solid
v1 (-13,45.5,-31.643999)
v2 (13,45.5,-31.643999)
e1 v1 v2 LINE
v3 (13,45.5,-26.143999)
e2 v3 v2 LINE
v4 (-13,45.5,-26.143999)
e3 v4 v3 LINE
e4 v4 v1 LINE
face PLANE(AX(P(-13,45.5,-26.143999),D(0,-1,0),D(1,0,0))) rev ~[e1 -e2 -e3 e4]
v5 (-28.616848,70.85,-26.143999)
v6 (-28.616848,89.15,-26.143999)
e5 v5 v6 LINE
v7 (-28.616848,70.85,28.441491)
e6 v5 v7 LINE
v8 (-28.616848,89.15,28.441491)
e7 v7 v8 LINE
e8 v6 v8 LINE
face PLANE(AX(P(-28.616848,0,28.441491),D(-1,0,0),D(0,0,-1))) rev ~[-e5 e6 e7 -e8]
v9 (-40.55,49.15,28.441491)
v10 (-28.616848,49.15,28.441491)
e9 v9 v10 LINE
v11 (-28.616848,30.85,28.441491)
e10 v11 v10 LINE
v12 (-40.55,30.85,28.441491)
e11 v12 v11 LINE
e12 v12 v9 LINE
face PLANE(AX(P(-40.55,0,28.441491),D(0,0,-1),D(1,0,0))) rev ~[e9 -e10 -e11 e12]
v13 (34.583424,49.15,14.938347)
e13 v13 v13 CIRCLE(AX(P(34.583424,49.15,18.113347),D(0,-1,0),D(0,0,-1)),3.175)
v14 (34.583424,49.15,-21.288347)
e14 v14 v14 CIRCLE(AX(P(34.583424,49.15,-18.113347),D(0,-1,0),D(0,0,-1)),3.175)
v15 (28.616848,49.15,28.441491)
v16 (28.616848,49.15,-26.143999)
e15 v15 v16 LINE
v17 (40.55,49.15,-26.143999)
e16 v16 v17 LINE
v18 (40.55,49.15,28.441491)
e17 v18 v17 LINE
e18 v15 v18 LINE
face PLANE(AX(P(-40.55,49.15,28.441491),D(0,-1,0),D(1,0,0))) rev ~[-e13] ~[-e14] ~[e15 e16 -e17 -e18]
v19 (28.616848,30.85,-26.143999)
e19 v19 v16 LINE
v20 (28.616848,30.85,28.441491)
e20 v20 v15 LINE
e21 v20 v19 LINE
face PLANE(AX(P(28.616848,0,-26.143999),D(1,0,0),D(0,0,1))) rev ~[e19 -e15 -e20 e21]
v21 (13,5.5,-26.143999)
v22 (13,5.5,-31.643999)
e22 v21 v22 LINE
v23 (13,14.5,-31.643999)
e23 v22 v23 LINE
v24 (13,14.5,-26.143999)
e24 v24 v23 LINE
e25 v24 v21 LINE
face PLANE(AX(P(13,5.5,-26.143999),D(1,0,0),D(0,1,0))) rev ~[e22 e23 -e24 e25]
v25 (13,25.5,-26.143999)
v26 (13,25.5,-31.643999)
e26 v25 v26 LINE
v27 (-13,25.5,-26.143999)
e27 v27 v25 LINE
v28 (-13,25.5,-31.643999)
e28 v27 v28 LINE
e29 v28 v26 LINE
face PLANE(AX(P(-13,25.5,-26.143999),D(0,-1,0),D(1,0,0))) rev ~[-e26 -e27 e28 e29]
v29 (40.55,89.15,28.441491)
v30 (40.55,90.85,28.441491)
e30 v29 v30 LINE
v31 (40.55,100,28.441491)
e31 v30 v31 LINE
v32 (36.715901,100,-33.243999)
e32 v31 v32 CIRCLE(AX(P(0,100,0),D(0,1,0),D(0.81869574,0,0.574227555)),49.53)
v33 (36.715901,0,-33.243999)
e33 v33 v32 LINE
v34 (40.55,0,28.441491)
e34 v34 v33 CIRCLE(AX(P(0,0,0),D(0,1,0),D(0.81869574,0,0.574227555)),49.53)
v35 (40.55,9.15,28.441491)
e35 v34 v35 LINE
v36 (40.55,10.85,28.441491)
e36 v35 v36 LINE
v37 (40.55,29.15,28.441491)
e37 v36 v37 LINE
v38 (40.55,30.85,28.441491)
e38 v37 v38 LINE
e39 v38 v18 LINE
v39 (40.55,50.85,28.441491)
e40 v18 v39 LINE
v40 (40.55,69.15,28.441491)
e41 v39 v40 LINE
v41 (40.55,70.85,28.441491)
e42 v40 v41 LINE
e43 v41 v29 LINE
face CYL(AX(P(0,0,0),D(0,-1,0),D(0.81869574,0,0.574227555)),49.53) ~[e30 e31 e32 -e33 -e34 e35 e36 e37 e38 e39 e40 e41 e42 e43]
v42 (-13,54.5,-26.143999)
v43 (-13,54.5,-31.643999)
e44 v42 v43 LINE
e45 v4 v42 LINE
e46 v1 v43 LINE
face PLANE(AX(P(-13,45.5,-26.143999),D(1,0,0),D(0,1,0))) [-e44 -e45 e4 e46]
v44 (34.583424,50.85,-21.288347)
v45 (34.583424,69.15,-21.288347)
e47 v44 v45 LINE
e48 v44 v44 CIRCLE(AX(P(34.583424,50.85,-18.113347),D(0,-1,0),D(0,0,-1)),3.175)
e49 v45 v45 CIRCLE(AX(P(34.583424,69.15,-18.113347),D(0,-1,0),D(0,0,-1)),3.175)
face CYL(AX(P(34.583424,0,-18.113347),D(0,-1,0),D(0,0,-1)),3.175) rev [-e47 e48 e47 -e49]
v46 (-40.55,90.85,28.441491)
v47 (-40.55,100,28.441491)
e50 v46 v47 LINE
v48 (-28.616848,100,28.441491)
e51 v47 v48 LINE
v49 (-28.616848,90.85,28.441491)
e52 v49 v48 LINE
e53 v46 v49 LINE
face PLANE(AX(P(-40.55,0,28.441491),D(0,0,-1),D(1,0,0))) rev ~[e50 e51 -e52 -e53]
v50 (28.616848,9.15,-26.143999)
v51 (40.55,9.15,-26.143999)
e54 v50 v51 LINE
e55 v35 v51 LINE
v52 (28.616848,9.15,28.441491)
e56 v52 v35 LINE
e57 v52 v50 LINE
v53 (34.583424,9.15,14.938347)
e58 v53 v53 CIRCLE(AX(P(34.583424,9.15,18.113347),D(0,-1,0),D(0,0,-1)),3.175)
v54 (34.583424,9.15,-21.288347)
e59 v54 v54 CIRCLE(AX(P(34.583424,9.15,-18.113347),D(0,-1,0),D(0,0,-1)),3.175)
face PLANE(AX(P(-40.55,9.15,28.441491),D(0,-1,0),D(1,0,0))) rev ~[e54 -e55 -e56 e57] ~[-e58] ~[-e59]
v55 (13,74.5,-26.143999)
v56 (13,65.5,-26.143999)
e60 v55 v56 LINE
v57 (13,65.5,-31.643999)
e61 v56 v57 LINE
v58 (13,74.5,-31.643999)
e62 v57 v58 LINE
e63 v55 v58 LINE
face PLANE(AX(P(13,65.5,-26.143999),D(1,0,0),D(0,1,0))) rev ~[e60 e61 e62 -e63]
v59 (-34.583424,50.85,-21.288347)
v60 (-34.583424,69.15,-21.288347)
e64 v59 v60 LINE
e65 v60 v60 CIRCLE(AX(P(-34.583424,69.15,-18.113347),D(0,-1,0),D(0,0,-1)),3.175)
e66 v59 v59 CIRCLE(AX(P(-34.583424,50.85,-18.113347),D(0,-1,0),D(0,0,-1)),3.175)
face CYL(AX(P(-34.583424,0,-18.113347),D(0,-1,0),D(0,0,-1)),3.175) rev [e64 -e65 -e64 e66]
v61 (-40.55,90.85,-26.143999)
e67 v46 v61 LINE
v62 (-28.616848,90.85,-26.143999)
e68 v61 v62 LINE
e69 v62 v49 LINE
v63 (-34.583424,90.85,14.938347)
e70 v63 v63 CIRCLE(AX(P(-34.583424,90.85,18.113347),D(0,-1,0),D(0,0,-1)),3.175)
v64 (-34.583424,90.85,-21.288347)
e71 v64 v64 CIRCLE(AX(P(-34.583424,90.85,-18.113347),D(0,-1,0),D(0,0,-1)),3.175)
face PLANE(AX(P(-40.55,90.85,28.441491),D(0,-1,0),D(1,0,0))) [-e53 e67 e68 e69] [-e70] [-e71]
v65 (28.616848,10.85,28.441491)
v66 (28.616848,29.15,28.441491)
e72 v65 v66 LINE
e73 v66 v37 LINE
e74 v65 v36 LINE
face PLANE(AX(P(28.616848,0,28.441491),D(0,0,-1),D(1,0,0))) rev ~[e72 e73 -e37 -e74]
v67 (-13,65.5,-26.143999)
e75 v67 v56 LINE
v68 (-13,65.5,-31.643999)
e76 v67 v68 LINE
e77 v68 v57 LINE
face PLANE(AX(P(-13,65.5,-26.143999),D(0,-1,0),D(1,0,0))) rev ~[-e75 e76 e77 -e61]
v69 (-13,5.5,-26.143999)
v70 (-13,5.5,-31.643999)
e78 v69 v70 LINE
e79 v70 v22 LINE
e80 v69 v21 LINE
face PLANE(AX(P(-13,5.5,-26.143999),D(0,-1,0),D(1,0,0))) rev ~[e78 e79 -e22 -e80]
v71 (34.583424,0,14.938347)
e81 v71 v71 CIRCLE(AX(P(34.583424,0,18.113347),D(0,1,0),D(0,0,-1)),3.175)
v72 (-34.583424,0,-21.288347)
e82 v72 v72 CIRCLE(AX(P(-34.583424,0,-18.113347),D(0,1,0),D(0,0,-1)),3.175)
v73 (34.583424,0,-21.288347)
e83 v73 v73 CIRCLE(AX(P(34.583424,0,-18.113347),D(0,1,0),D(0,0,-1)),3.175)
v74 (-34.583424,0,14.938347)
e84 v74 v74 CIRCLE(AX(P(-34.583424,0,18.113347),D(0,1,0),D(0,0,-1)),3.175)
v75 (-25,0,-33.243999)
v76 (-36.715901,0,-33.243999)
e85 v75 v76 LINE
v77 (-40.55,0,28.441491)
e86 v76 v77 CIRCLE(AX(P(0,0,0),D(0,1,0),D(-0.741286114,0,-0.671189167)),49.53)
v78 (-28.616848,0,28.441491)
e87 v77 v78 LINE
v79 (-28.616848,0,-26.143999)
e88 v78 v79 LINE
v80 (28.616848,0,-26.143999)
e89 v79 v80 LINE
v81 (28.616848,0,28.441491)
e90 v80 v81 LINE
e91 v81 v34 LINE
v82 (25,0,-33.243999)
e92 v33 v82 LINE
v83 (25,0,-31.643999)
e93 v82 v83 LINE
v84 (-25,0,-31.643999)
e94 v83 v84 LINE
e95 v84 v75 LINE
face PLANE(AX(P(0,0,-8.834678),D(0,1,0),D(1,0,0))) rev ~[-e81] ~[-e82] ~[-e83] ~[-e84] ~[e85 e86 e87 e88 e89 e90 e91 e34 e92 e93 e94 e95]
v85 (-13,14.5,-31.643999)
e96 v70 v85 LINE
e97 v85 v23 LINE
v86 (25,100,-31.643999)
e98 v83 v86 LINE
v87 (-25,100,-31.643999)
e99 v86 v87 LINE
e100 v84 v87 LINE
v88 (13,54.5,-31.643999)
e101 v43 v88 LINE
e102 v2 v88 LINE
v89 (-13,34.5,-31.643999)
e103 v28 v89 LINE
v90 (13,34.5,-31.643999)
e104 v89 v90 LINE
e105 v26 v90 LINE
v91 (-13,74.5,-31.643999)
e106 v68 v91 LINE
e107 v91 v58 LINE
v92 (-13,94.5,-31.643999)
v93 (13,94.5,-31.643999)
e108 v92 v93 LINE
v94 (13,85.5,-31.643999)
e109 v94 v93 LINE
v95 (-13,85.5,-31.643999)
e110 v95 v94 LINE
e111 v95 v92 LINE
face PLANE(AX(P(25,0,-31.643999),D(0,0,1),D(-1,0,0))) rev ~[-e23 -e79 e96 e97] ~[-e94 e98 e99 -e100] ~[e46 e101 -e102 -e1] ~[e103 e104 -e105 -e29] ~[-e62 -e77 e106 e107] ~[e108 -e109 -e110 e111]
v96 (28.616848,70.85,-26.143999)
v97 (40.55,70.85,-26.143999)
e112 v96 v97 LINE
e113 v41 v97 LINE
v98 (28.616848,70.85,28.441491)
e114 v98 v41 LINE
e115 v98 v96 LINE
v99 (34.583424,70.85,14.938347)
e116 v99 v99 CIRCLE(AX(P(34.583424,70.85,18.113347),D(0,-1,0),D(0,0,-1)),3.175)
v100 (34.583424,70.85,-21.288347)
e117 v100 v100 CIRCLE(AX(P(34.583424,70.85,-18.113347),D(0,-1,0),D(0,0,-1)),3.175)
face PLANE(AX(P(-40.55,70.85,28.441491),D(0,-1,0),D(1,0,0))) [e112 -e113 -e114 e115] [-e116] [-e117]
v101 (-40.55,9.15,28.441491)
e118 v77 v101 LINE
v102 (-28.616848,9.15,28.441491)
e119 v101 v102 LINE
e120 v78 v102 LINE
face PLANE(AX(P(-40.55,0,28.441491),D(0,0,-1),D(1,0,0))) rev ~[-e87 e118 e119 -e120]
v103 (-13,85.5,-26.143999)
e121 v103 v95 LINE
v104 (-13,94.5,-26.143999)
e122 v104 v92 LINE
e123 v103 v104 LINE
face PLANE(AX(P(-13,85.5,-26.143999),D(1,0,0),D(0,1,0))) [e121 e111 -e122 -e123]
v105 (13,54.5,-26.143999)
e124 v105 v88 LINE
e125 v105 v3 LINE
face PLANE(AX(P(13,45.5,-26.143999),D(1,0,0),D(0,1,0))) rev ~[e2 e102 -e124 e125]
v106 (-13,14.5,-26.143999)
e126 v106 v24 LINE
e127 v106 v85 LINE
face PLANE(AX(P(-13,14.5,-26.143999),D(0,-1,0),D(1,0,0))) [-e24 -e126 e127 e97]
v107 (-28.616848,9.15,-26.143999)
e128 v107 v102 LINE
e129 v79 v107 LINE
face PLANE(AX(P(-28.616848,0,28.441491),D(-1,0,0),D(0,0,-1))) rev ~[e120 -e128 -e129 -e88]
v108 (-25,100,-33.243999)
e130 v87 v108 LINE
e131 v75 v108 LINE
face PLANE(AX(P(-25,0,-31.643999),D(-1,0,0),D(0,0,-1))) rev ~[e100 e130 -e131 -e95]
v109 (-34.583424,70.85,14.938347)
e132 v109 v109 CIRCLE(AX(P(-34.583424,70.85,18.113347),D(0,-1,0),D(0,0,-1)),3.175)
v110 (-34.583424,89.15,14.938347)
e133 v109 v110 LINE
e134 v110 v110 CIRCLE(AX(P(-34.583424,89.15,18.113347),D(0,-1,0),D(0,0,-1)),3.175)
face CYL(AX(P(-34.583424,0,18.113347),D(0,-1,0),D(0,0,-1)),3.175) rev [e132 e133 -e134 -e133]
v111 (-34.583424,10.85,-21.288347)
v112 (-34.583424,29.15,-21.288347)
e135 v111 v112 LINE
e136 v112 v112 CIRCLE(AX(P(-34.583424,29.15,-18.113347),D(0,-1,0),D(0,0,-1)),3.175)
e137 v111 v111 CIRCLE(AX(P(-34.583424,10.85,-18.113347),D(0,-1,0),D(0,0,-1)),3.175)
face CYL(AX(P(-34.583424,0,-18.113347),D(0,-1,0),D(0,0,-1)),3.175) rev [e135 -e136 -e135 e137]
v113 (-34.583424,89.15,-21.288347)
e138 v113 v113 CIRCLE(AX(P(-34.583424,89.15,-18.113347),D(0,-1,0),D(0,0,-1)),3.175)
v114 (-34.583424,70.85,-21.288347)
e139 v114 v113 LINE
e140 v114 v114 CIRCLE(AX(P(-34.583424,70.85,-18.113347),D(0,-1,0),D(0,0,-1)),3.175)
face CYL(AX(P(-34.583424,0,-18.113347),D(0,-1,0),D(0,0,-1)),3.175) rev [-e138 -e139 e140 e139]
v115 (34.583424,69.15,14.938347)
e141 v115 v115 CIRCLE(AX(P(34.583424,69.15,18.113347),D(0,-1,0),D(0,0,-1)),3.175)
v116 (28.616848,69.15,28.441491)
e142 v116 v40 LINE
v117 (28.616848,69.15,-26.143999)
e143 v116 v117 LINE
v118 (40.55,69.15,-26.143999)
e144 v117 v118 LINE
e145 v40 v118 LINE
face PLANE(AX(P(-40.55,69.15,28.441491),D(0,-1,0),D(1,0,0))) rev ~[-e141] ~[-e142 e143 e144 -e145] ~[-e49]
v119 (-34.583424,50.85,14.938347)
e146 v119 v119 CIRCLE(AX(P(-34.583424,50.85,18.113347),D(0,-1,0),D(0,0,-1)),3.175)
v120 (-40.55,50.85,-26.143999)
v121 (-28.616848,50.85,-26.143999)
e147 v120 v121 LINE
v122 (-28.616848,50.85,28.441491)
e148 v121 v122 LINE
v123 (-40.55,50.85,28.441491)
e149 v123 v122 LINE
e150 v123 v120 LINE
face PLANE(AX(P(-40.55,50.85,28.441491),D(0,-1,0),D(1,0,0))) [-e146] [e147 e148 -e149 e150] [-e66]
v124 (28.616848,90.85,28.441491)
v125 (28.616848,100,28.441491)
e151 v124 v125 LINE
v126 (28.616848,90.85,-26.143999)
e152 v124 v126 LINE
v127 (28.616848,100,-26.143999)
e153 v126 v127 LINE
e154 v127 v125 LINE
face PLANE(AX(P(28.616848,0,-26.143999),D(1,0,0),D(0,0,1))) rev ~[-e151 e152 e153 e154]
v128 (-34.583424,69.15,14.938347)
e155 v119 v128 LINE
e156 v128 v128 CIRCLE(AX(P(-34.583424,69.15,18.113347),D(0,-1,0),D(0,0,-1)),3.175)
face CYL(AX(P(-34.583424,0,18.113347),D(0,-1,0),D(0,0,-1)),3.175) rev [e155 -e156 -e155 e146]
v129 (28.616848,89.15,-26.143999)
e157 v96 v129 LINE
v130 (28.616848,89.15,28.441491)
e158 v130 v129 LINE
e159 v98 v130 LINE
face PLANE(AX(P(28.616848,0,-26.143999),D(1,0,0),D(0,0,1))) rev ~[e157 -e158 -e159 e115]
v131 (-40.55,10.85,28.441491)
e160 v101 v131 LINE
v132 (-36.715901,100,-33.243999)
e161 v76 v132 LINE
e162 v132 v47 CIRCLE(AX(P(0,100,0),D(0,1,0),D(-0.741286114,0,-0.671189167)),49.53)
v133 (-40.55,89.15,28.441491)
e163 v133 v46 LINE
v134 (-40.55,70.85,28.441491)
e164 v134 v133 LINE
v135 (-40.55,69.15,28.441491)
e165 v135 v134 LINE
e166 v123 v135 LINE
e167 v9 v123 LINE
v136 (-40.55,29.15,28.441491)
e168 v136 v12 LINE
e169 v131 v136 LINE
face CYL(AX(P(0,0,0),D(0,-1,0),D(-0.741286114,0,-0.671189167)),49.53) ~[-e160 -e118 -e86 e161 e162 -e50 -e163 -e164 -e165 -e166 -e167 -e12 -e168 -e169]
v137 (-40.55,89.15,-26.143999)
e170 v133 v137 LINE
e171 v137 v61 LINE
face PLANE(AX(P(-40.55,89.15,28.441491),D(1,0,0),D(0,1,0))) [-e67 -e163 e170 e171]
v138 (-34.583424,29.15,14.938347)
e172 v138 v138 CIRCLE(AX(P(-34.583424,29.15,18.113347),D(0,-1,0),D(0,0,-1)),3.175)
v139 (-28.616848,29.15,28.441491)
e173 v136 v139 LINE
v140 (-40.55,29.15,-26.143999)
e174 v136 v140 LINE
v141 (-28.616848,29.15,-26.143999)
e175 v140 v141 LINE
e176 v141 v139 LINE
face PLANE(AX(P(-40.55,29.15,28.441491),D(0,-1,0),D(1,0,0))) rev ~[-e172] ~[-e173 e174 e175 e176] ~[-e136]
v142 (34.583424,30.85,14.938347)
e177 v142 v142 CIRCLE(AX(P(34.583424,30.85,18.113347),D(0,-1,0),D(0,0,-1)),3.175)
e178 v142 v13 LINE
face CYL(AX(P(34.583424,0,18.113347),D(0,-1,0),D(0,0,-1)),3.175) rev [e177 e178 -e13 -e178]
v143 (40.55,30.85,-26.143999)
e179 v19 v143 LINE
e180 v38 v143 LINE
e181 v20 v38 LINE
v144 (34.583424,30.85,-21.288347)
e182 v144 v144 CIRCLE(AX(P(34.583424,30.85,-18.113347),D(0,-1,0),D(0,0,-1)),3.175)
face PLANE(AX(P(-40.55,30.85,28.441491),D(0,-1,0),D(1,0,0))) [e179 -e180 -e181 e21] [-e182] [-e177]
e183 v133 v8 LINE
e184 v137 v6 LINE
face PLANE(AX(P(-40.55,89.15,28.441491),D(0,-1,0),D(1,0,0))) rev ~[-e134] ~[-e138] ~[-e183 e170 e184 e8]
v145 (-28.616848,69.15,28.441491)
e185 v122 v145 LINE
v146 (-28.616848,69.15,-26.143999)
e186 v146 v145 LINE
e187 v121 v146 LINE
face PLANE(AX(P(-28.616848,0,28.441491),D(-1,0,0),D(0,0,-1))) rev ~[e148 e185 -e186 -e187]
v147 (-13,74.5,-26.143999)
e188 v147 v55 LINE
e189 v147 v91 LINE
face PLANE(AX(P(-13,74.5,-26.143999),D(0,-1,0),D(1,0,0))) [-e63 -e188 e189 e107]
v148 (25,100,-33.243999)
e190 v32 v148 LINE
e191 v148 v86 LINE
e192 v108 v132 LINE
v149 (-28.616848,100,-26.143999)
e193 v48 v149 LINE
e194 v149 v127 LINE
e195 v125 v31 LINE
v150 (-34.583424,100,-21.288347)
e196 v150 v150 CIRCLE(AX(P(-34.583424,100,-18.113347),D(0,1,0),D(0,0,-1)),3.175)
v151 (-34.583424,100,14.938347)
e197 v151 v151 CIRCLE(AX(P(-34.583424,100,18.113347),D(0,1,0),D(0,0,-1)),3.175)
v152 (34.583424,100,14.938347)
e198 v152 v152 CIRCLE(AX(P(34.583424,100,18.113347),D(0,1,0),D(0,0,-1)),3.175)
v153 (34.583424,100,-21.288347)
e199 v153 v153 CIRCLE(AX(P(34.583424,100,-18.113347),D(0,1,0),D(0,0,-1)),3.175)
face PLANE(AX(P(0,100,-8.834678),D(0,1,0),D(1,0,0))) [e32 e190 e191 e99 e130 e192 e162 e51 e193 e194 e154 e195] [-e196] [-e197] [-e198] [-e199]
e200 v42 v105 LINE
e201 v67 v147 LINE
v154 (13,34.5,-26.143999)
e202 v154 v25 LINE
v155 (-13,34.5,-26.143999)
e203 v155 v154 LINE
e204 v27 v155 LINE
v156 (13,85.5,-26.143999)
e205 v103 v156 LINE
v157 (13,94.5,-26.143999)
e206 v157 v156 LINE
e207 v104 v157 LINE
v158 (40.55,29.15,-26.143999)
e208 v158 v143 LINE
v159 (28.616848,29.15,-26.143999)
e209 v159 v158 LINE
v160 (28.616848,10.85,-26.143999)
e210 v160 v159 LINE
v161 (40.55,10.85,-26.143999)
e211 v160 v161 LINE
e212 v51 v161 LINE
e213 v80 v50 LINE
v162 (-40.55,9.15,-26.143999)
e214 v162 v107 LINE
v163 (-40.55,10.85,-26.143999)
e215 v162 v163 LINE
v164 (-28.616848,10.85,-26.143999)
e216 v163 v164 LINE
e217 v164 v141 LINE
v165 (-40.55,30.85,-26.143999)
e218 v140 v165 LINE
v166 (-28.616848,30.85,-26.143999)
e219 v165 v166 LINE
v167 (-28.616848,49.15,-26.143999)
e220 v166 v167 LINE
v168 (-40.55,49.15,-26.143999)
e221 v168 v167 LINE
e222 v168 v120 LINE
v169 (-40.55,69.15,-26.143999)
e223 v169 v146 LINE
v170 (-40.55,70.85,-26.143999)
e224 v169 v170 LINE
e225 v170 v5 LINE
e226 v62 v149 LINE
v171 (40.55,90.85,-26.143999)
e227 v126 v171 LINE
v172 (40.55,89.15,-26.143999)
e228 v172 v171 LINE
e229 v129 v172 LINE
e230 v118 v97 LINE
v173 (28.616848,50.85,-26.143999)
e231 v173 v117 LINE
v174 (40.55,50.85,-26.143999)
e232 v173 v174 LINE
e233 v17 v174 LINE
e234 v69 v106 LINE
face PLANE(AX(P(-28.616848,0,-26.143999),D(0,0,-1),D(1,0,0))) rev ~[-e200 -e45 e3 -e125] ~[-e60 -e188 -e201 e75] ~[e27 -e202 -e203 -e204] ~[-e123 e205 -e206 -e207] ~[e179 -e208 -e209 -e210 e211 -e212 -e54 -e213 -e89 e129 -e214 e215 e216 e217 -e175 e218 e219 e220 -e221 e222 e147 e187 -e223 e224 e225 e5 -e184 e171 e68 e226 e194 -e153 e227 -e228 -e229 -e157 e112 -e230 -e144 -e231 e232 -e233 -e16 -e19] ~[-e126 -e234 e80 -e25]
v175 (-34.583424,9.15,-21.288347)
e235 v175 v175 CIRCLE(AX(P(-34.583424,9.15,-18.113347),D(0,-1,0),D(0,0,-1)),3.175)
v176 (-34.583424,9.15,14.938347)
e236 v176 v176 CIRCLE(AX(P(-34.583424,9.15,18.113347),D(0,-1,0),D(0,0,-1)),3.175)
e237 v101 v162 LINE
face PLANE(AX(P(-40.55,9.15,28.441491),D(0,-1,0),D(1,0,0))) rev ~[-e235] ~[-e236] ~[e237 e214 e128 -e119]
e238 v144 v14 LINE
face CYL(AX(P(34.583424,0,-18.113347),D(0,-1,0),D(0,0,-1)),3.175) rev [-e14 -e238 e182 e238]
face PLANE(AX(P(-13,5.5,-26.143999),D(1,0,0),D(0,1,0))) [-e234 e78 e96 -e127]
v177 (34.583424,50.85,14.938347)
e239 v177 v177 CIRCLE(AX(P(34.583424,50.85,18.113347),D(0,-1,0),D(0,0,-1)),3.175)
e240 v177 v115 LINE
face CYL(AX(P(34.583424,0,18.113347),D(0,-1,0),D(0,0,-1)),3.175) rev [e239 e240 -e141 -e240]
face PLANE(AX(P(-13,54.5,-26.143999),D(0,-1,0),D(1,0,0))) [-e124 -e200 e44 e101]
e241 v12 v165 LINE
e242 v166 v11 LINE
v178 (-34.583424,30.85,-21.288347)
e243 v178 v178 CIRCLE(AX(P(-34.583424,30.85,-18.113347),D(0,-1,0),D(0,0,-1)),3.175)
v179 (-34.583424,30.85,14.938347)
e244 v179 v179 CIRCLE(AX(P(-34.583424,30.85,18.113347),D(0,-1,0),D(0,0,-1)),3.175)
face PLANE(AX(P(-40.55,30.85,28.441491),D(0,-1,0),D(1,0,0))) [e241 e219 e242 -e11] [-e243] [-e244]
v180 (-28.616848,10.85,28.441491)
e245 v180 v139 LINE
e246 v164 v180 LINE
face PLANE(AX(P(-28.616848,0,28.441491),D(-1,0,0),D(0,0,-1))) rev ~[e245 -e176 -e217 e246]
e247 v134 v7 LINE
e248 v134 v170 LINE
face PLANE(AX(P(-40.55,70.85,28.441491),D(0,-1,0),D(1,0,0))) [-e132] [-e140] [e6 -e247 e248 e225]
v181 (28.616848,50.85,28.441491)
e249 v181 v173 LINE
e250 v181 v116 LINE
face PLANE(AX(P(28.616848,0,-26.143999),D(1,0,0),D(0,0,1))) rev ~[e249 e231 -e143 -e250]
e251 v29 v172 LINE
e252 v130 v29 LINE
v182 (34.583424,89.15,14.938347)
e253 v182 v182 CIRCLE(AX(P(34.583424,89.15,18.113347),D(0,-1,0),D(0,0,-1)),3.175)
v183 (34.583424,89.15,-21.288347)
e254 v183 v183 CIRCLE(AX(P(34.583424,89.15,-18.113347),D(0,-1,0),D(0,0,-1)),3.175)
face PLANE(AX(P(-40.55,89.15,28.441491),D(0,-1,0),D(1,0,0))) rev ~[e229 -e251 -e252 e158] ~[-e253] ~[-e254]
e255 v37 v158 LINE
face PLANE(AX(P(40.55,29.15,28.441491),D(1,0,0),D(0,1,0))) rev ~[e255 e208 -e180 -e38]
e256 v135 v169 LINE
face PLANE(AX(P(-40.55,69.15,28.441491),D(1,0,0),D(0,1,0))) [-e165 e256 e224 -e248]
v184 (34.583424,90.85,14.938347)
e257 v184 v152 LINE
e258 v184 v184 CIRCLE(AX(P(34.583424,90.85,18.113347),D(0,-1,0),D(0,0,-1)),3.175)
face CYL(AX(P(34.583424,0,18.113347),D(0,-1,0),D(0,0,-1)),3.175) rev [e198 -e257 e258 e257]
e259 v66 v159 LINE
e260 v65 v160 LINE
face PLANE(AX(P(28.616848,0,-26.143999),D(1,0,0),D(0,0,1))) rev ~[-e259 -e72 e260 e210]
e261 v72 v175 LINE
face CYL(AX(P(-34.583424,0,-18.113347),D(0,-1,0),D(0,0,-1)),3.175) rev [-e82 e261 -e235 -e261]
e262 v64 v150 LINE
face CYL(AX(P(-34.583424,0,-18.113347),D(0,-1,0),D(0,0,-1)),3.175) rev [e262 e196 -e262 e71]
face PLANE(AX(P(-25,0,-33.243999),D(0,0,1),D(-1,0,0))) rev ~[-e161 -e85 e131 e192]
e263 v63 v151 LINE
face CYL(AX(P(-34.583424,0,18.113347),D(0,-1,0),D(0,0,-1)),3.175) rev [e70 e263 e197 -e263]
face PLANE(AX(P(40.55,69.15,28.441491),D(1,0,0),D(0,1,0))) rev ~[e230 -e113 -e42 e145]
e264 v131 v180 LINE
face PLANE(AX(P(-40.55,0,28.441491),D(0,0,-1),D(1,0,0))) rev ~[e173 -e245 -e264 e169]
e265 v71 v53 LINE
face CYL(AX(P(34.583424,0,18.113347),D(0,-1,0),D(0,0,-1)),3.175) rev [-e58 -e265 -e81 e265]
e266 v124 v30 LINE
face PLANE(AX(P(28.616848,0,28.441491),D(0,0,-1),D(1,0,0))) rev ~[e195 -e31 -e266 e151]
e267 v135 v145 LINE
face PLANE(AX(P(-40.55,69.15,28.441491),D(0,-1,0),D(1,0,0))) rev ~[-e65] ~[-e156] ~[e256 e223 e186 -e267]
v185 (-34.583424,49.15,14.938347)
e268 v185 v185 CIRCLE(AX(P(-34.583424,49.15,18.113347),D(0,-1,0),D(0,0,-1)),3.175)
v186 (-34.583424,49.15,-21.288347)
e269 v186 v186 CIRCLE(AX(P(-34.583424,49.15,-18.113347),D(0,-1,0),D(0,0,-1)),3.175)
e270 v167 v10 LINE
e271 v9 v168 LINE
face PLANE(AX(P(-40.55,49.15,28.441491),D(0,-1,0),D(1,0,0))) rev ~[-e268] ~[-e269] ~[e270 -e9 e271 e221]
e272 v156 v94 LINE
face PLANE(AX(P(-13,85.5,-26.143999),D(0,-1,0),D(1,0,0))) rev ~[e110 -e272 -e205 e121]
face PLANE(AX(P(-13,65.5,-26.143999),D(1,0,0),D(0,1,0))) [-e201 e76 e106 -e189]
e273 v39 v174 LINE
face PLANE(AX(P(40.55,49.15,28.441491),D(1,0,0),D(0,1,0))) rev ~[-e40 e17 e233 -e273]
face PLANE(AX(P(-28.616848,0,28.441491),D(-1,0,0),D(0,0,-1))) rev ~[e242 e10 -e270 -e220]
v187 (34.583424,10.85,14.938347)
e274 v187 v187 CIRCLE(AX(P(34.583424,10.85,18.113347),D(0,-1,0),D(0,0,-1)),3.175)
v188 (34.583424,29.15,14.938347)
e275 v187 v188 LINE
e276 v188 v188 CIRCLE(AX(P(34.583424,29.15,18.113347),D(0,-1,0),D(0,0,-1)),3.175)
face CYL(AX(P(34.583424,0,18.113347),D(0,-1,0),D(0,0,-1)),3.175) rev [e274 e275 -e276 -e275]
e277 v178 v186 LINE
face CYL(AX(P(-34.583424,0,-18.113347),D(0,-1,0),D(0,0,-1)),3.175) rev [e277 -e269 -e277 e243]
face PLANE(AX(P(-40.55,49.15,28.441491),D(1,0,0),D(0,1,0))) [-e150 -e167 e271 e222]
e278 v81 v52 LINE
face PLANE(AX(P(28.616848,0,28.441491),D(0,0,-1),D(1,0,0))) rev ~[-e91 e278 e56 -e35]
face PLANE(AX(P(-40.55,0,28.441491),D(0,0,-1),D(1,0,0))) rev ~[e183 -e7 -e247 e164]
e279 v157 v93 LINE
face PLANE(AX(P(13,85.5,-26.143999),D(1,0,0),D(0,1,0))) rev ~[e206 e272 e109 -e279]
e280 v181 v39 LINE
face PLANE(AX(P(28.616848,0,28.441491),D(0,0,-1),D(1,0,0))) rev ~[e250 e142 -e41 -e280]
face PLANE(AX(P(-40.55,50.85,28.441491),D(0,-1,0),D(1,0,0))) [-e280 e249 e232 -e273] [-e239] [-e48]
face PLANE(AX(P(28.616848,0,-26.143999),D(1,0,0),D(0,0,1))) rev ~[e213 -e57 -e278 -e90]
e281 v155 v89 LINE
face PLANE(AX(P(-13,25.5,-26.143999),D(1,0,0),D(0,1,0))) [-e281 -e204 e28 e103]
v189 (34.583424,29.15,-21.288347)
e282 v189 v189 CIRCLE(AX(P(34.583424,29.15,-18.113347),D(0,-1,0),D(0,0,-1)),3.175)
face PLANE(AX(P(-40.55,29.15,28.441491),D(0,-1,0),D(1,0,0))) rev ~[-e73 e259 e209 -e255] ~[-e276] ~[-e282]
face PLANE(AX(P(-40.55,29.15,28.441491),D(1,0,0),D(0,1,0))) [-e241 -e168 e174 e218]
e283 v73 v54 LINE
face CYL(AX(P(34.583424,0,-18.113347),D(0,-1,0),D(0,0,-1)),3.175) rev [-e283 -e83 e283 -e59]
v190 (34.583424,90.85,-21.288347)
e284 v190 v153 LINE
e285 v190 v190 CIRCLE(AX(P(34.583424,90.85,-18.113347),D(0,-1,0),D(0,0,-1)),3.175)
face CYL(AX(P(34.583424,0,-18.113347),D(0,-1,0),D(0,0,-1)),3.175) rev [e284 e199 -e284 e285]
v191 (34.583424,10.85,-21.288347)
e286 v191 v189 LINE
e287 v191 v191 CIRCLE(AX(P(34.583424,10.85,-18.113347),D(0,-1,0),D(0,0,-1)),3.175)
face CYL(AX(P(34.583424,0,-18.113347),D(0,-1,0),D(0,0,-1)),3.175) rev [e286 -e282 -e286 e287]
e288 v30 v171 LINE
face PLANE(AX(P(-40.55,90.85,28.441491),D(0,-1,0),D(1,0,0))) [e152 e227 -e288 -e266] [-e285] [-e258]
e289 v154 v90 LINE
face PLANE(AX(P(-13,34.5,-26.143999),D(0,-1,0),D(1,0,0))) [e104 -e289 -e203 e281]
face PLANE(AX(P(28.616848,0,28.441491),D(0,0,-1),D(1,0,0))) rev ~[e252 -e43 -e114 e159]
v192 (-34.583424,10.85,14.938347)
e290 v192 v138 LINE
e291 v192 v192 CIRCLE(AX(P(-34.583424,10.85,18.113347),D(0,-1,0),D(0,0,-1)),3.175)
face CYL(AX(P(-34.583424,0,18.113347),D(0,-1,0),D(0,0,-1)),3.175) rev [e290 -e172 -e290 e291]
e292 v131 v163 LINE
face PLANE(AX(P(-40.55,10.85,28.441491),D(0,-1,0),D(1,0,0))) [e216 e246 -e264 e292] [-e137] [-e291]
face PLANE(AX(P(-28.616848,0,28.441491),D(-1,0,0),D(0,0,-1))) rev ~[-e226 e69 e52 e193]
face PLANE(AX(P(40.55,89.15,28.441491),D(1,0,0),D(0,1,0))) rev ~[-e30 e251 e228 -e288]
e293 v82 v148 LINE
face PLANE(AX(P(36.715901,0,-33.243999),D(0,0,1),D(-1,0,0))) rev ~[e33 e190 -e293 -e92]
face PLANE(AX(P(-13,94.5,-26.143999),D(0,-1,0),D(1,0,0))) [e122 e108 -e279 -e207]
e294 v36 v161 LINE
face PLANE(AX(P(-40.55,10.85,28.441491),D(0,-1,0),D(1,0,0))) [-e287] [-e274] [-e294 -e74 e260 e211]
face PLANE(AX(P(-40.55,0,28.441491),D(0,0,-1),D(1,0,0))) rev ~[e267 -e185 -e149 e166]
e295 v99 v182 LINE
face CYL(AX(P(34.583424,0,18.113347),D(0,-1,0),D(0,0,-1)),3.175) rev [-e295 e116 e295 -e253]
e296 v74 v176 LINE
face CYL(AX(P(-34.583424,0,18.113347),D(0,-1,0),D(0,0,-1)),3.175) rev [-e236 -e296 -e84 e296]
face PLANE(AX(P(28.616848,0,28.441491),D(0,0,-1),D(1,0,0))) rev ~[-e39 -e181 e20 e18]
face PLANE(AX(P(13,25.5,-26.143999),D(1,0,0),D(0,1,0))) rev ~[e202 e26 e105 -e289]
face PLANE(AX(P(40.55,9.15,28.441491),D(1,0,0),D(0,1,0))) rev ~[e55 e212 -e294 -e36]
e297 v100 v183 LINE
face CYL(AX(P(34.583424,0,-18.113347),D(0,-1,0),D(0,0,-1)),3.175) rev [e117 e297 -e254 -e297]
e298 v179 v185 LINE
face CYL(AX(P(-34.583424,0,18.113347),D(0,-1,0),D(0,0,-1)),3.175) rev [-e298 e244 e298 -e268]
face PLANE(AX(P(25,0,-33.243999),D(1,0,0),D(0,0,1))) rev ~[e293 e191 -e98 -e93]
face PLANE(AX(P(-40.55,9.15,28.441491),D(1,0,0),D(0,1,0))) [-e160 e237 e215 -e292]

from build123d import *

# Parameters (mm, degrees)
BOSS_EXTRUDE2_DEPTH = 100
SKETCH2_W           = 26
SKETCH2_H           = 9
CUT_EXTRUDE1_DEPTH  = 10
SKETCH3_W           = 81.1
SKETCH3_H           = 1.7
CUT_EXTRUDE2_DEPTH  = 54.585490237
LPATTERN1_COUNT     = 5
LPATTERN1_PITCH     = 20
CUT_EXTRUDE3_START  = -100
SKETCH5_R           = 3.175
CUT_EXTRUDE3_DEPTH  = 100


with BuildPart() as part:
    # Sketch1 → Boss-Extrude2 (new body)
    with BuildSketch(Plane(origin=(0, 0, 0), x_dir=(1, 0, 0), z_dir=(0, 1, 0))):
        with BuildLine():
            Line((-40.55, -28.441490819), (-28.616848255, -28.441490819))
            Line((-28.616848255, -28.441490819), (-28.616848255, 26.143999418))
            Line((-28.616848255, 26.143999418), (28.616848255, 26.143999418))
            Line((28.616848255, 26.143999418), (28.616848255, -28.441490819))
            Line((28.616848255, -28.441490819), (40.55, -28.441490819))
            ThreePointArc((40.55, -28.441490819), (49.434601237, 3.072637396), (36.715901224, 33.243999418))
            Line((36.715901224, 33.243999418), (25, 33.243999418))
            Line((25, 33.243999418), (25, 31.643999418))
            Line((25, 31.643999418), (-25, 31.643999418))
            Line((-25, 31.643999418), (-25, 33.243999418))
            Line((-25, 33.243999418), (-36.715901224, 33.243999418))
            ThreePointArc((-36.715901224, 33.243999418), (-49.434601237, 3.072637396), (-40.55, -28.441490819))
        make_face()
    extrude(amount=BOSS_EXTRUDE2_DEPTH)

    # Sketch2 → Cut-Extrude1 (cut)
    with BuildSketch(Plane.XY.offset(-26.143999418)):
        with Locations((0, 10)):
            Rectangle(SKETCH2_W, SKETCH2_H)
    cut_extrude1 = extrude(amount=-CUT_EXTRUDE1_DEPTH, mode=Mode.SUBTRACT)

    # Sketch3 → Cut-Extrude2 (cut)
    with BuildSketch(Plane.XY.offset(28.441490819)):
        with Locations((0, 10)):
            Rectangle(SKETCH3_W, SKETCH3_H)
    cut_extrude2 = extrude(amount=-CUT_EXTRUDE2_DEPTH, mode=Mode.SUBTRACT)

    # LPattern1: Cut-Extrude1, Cut-Extrude2 ×5
    with Locations(*[(0, i * LPATTERN1_PITCH, 0) for i in range(1, LPATTERN1_COUNT)]):
        add(cut_extrude1, mode=Mode.SUBTRACT)
        add(cut_extrude2, mode=Mode.SUBTRACT)

    # Sketch5 → Cut-Extrude3 (cut)
    with BuildSketch(Plane(origin=(0, 100, 0), x_dir=(1, 0, 0), z_dir=(0, 1, 0)).offset(CUT_EXTRUDE3_START)):
        with Locations(Location((-34.583424127, -18.113346959, 0), (0, 0, 90))):
            Circle(SKETCH5_R)
        with Locations(Location((-34.583424127, 18.113346959, 0), (0, 0, 90))):
            Circle(SKETCH5_R)
        with Locations(Location((34.583424127, 18.113346959, 0), (0, 0, 90))):
            Circle(SKETCH5_R)
        with Locations(Location((34.583424127, -18.113346959, 0), (0, 0, 90))):
            Circle(SKETCH5_R)
    extrude(amount=CUT_EXTRUDE3_DEPTH, mode=Mode.SUBTRACT)


solid = part.part
